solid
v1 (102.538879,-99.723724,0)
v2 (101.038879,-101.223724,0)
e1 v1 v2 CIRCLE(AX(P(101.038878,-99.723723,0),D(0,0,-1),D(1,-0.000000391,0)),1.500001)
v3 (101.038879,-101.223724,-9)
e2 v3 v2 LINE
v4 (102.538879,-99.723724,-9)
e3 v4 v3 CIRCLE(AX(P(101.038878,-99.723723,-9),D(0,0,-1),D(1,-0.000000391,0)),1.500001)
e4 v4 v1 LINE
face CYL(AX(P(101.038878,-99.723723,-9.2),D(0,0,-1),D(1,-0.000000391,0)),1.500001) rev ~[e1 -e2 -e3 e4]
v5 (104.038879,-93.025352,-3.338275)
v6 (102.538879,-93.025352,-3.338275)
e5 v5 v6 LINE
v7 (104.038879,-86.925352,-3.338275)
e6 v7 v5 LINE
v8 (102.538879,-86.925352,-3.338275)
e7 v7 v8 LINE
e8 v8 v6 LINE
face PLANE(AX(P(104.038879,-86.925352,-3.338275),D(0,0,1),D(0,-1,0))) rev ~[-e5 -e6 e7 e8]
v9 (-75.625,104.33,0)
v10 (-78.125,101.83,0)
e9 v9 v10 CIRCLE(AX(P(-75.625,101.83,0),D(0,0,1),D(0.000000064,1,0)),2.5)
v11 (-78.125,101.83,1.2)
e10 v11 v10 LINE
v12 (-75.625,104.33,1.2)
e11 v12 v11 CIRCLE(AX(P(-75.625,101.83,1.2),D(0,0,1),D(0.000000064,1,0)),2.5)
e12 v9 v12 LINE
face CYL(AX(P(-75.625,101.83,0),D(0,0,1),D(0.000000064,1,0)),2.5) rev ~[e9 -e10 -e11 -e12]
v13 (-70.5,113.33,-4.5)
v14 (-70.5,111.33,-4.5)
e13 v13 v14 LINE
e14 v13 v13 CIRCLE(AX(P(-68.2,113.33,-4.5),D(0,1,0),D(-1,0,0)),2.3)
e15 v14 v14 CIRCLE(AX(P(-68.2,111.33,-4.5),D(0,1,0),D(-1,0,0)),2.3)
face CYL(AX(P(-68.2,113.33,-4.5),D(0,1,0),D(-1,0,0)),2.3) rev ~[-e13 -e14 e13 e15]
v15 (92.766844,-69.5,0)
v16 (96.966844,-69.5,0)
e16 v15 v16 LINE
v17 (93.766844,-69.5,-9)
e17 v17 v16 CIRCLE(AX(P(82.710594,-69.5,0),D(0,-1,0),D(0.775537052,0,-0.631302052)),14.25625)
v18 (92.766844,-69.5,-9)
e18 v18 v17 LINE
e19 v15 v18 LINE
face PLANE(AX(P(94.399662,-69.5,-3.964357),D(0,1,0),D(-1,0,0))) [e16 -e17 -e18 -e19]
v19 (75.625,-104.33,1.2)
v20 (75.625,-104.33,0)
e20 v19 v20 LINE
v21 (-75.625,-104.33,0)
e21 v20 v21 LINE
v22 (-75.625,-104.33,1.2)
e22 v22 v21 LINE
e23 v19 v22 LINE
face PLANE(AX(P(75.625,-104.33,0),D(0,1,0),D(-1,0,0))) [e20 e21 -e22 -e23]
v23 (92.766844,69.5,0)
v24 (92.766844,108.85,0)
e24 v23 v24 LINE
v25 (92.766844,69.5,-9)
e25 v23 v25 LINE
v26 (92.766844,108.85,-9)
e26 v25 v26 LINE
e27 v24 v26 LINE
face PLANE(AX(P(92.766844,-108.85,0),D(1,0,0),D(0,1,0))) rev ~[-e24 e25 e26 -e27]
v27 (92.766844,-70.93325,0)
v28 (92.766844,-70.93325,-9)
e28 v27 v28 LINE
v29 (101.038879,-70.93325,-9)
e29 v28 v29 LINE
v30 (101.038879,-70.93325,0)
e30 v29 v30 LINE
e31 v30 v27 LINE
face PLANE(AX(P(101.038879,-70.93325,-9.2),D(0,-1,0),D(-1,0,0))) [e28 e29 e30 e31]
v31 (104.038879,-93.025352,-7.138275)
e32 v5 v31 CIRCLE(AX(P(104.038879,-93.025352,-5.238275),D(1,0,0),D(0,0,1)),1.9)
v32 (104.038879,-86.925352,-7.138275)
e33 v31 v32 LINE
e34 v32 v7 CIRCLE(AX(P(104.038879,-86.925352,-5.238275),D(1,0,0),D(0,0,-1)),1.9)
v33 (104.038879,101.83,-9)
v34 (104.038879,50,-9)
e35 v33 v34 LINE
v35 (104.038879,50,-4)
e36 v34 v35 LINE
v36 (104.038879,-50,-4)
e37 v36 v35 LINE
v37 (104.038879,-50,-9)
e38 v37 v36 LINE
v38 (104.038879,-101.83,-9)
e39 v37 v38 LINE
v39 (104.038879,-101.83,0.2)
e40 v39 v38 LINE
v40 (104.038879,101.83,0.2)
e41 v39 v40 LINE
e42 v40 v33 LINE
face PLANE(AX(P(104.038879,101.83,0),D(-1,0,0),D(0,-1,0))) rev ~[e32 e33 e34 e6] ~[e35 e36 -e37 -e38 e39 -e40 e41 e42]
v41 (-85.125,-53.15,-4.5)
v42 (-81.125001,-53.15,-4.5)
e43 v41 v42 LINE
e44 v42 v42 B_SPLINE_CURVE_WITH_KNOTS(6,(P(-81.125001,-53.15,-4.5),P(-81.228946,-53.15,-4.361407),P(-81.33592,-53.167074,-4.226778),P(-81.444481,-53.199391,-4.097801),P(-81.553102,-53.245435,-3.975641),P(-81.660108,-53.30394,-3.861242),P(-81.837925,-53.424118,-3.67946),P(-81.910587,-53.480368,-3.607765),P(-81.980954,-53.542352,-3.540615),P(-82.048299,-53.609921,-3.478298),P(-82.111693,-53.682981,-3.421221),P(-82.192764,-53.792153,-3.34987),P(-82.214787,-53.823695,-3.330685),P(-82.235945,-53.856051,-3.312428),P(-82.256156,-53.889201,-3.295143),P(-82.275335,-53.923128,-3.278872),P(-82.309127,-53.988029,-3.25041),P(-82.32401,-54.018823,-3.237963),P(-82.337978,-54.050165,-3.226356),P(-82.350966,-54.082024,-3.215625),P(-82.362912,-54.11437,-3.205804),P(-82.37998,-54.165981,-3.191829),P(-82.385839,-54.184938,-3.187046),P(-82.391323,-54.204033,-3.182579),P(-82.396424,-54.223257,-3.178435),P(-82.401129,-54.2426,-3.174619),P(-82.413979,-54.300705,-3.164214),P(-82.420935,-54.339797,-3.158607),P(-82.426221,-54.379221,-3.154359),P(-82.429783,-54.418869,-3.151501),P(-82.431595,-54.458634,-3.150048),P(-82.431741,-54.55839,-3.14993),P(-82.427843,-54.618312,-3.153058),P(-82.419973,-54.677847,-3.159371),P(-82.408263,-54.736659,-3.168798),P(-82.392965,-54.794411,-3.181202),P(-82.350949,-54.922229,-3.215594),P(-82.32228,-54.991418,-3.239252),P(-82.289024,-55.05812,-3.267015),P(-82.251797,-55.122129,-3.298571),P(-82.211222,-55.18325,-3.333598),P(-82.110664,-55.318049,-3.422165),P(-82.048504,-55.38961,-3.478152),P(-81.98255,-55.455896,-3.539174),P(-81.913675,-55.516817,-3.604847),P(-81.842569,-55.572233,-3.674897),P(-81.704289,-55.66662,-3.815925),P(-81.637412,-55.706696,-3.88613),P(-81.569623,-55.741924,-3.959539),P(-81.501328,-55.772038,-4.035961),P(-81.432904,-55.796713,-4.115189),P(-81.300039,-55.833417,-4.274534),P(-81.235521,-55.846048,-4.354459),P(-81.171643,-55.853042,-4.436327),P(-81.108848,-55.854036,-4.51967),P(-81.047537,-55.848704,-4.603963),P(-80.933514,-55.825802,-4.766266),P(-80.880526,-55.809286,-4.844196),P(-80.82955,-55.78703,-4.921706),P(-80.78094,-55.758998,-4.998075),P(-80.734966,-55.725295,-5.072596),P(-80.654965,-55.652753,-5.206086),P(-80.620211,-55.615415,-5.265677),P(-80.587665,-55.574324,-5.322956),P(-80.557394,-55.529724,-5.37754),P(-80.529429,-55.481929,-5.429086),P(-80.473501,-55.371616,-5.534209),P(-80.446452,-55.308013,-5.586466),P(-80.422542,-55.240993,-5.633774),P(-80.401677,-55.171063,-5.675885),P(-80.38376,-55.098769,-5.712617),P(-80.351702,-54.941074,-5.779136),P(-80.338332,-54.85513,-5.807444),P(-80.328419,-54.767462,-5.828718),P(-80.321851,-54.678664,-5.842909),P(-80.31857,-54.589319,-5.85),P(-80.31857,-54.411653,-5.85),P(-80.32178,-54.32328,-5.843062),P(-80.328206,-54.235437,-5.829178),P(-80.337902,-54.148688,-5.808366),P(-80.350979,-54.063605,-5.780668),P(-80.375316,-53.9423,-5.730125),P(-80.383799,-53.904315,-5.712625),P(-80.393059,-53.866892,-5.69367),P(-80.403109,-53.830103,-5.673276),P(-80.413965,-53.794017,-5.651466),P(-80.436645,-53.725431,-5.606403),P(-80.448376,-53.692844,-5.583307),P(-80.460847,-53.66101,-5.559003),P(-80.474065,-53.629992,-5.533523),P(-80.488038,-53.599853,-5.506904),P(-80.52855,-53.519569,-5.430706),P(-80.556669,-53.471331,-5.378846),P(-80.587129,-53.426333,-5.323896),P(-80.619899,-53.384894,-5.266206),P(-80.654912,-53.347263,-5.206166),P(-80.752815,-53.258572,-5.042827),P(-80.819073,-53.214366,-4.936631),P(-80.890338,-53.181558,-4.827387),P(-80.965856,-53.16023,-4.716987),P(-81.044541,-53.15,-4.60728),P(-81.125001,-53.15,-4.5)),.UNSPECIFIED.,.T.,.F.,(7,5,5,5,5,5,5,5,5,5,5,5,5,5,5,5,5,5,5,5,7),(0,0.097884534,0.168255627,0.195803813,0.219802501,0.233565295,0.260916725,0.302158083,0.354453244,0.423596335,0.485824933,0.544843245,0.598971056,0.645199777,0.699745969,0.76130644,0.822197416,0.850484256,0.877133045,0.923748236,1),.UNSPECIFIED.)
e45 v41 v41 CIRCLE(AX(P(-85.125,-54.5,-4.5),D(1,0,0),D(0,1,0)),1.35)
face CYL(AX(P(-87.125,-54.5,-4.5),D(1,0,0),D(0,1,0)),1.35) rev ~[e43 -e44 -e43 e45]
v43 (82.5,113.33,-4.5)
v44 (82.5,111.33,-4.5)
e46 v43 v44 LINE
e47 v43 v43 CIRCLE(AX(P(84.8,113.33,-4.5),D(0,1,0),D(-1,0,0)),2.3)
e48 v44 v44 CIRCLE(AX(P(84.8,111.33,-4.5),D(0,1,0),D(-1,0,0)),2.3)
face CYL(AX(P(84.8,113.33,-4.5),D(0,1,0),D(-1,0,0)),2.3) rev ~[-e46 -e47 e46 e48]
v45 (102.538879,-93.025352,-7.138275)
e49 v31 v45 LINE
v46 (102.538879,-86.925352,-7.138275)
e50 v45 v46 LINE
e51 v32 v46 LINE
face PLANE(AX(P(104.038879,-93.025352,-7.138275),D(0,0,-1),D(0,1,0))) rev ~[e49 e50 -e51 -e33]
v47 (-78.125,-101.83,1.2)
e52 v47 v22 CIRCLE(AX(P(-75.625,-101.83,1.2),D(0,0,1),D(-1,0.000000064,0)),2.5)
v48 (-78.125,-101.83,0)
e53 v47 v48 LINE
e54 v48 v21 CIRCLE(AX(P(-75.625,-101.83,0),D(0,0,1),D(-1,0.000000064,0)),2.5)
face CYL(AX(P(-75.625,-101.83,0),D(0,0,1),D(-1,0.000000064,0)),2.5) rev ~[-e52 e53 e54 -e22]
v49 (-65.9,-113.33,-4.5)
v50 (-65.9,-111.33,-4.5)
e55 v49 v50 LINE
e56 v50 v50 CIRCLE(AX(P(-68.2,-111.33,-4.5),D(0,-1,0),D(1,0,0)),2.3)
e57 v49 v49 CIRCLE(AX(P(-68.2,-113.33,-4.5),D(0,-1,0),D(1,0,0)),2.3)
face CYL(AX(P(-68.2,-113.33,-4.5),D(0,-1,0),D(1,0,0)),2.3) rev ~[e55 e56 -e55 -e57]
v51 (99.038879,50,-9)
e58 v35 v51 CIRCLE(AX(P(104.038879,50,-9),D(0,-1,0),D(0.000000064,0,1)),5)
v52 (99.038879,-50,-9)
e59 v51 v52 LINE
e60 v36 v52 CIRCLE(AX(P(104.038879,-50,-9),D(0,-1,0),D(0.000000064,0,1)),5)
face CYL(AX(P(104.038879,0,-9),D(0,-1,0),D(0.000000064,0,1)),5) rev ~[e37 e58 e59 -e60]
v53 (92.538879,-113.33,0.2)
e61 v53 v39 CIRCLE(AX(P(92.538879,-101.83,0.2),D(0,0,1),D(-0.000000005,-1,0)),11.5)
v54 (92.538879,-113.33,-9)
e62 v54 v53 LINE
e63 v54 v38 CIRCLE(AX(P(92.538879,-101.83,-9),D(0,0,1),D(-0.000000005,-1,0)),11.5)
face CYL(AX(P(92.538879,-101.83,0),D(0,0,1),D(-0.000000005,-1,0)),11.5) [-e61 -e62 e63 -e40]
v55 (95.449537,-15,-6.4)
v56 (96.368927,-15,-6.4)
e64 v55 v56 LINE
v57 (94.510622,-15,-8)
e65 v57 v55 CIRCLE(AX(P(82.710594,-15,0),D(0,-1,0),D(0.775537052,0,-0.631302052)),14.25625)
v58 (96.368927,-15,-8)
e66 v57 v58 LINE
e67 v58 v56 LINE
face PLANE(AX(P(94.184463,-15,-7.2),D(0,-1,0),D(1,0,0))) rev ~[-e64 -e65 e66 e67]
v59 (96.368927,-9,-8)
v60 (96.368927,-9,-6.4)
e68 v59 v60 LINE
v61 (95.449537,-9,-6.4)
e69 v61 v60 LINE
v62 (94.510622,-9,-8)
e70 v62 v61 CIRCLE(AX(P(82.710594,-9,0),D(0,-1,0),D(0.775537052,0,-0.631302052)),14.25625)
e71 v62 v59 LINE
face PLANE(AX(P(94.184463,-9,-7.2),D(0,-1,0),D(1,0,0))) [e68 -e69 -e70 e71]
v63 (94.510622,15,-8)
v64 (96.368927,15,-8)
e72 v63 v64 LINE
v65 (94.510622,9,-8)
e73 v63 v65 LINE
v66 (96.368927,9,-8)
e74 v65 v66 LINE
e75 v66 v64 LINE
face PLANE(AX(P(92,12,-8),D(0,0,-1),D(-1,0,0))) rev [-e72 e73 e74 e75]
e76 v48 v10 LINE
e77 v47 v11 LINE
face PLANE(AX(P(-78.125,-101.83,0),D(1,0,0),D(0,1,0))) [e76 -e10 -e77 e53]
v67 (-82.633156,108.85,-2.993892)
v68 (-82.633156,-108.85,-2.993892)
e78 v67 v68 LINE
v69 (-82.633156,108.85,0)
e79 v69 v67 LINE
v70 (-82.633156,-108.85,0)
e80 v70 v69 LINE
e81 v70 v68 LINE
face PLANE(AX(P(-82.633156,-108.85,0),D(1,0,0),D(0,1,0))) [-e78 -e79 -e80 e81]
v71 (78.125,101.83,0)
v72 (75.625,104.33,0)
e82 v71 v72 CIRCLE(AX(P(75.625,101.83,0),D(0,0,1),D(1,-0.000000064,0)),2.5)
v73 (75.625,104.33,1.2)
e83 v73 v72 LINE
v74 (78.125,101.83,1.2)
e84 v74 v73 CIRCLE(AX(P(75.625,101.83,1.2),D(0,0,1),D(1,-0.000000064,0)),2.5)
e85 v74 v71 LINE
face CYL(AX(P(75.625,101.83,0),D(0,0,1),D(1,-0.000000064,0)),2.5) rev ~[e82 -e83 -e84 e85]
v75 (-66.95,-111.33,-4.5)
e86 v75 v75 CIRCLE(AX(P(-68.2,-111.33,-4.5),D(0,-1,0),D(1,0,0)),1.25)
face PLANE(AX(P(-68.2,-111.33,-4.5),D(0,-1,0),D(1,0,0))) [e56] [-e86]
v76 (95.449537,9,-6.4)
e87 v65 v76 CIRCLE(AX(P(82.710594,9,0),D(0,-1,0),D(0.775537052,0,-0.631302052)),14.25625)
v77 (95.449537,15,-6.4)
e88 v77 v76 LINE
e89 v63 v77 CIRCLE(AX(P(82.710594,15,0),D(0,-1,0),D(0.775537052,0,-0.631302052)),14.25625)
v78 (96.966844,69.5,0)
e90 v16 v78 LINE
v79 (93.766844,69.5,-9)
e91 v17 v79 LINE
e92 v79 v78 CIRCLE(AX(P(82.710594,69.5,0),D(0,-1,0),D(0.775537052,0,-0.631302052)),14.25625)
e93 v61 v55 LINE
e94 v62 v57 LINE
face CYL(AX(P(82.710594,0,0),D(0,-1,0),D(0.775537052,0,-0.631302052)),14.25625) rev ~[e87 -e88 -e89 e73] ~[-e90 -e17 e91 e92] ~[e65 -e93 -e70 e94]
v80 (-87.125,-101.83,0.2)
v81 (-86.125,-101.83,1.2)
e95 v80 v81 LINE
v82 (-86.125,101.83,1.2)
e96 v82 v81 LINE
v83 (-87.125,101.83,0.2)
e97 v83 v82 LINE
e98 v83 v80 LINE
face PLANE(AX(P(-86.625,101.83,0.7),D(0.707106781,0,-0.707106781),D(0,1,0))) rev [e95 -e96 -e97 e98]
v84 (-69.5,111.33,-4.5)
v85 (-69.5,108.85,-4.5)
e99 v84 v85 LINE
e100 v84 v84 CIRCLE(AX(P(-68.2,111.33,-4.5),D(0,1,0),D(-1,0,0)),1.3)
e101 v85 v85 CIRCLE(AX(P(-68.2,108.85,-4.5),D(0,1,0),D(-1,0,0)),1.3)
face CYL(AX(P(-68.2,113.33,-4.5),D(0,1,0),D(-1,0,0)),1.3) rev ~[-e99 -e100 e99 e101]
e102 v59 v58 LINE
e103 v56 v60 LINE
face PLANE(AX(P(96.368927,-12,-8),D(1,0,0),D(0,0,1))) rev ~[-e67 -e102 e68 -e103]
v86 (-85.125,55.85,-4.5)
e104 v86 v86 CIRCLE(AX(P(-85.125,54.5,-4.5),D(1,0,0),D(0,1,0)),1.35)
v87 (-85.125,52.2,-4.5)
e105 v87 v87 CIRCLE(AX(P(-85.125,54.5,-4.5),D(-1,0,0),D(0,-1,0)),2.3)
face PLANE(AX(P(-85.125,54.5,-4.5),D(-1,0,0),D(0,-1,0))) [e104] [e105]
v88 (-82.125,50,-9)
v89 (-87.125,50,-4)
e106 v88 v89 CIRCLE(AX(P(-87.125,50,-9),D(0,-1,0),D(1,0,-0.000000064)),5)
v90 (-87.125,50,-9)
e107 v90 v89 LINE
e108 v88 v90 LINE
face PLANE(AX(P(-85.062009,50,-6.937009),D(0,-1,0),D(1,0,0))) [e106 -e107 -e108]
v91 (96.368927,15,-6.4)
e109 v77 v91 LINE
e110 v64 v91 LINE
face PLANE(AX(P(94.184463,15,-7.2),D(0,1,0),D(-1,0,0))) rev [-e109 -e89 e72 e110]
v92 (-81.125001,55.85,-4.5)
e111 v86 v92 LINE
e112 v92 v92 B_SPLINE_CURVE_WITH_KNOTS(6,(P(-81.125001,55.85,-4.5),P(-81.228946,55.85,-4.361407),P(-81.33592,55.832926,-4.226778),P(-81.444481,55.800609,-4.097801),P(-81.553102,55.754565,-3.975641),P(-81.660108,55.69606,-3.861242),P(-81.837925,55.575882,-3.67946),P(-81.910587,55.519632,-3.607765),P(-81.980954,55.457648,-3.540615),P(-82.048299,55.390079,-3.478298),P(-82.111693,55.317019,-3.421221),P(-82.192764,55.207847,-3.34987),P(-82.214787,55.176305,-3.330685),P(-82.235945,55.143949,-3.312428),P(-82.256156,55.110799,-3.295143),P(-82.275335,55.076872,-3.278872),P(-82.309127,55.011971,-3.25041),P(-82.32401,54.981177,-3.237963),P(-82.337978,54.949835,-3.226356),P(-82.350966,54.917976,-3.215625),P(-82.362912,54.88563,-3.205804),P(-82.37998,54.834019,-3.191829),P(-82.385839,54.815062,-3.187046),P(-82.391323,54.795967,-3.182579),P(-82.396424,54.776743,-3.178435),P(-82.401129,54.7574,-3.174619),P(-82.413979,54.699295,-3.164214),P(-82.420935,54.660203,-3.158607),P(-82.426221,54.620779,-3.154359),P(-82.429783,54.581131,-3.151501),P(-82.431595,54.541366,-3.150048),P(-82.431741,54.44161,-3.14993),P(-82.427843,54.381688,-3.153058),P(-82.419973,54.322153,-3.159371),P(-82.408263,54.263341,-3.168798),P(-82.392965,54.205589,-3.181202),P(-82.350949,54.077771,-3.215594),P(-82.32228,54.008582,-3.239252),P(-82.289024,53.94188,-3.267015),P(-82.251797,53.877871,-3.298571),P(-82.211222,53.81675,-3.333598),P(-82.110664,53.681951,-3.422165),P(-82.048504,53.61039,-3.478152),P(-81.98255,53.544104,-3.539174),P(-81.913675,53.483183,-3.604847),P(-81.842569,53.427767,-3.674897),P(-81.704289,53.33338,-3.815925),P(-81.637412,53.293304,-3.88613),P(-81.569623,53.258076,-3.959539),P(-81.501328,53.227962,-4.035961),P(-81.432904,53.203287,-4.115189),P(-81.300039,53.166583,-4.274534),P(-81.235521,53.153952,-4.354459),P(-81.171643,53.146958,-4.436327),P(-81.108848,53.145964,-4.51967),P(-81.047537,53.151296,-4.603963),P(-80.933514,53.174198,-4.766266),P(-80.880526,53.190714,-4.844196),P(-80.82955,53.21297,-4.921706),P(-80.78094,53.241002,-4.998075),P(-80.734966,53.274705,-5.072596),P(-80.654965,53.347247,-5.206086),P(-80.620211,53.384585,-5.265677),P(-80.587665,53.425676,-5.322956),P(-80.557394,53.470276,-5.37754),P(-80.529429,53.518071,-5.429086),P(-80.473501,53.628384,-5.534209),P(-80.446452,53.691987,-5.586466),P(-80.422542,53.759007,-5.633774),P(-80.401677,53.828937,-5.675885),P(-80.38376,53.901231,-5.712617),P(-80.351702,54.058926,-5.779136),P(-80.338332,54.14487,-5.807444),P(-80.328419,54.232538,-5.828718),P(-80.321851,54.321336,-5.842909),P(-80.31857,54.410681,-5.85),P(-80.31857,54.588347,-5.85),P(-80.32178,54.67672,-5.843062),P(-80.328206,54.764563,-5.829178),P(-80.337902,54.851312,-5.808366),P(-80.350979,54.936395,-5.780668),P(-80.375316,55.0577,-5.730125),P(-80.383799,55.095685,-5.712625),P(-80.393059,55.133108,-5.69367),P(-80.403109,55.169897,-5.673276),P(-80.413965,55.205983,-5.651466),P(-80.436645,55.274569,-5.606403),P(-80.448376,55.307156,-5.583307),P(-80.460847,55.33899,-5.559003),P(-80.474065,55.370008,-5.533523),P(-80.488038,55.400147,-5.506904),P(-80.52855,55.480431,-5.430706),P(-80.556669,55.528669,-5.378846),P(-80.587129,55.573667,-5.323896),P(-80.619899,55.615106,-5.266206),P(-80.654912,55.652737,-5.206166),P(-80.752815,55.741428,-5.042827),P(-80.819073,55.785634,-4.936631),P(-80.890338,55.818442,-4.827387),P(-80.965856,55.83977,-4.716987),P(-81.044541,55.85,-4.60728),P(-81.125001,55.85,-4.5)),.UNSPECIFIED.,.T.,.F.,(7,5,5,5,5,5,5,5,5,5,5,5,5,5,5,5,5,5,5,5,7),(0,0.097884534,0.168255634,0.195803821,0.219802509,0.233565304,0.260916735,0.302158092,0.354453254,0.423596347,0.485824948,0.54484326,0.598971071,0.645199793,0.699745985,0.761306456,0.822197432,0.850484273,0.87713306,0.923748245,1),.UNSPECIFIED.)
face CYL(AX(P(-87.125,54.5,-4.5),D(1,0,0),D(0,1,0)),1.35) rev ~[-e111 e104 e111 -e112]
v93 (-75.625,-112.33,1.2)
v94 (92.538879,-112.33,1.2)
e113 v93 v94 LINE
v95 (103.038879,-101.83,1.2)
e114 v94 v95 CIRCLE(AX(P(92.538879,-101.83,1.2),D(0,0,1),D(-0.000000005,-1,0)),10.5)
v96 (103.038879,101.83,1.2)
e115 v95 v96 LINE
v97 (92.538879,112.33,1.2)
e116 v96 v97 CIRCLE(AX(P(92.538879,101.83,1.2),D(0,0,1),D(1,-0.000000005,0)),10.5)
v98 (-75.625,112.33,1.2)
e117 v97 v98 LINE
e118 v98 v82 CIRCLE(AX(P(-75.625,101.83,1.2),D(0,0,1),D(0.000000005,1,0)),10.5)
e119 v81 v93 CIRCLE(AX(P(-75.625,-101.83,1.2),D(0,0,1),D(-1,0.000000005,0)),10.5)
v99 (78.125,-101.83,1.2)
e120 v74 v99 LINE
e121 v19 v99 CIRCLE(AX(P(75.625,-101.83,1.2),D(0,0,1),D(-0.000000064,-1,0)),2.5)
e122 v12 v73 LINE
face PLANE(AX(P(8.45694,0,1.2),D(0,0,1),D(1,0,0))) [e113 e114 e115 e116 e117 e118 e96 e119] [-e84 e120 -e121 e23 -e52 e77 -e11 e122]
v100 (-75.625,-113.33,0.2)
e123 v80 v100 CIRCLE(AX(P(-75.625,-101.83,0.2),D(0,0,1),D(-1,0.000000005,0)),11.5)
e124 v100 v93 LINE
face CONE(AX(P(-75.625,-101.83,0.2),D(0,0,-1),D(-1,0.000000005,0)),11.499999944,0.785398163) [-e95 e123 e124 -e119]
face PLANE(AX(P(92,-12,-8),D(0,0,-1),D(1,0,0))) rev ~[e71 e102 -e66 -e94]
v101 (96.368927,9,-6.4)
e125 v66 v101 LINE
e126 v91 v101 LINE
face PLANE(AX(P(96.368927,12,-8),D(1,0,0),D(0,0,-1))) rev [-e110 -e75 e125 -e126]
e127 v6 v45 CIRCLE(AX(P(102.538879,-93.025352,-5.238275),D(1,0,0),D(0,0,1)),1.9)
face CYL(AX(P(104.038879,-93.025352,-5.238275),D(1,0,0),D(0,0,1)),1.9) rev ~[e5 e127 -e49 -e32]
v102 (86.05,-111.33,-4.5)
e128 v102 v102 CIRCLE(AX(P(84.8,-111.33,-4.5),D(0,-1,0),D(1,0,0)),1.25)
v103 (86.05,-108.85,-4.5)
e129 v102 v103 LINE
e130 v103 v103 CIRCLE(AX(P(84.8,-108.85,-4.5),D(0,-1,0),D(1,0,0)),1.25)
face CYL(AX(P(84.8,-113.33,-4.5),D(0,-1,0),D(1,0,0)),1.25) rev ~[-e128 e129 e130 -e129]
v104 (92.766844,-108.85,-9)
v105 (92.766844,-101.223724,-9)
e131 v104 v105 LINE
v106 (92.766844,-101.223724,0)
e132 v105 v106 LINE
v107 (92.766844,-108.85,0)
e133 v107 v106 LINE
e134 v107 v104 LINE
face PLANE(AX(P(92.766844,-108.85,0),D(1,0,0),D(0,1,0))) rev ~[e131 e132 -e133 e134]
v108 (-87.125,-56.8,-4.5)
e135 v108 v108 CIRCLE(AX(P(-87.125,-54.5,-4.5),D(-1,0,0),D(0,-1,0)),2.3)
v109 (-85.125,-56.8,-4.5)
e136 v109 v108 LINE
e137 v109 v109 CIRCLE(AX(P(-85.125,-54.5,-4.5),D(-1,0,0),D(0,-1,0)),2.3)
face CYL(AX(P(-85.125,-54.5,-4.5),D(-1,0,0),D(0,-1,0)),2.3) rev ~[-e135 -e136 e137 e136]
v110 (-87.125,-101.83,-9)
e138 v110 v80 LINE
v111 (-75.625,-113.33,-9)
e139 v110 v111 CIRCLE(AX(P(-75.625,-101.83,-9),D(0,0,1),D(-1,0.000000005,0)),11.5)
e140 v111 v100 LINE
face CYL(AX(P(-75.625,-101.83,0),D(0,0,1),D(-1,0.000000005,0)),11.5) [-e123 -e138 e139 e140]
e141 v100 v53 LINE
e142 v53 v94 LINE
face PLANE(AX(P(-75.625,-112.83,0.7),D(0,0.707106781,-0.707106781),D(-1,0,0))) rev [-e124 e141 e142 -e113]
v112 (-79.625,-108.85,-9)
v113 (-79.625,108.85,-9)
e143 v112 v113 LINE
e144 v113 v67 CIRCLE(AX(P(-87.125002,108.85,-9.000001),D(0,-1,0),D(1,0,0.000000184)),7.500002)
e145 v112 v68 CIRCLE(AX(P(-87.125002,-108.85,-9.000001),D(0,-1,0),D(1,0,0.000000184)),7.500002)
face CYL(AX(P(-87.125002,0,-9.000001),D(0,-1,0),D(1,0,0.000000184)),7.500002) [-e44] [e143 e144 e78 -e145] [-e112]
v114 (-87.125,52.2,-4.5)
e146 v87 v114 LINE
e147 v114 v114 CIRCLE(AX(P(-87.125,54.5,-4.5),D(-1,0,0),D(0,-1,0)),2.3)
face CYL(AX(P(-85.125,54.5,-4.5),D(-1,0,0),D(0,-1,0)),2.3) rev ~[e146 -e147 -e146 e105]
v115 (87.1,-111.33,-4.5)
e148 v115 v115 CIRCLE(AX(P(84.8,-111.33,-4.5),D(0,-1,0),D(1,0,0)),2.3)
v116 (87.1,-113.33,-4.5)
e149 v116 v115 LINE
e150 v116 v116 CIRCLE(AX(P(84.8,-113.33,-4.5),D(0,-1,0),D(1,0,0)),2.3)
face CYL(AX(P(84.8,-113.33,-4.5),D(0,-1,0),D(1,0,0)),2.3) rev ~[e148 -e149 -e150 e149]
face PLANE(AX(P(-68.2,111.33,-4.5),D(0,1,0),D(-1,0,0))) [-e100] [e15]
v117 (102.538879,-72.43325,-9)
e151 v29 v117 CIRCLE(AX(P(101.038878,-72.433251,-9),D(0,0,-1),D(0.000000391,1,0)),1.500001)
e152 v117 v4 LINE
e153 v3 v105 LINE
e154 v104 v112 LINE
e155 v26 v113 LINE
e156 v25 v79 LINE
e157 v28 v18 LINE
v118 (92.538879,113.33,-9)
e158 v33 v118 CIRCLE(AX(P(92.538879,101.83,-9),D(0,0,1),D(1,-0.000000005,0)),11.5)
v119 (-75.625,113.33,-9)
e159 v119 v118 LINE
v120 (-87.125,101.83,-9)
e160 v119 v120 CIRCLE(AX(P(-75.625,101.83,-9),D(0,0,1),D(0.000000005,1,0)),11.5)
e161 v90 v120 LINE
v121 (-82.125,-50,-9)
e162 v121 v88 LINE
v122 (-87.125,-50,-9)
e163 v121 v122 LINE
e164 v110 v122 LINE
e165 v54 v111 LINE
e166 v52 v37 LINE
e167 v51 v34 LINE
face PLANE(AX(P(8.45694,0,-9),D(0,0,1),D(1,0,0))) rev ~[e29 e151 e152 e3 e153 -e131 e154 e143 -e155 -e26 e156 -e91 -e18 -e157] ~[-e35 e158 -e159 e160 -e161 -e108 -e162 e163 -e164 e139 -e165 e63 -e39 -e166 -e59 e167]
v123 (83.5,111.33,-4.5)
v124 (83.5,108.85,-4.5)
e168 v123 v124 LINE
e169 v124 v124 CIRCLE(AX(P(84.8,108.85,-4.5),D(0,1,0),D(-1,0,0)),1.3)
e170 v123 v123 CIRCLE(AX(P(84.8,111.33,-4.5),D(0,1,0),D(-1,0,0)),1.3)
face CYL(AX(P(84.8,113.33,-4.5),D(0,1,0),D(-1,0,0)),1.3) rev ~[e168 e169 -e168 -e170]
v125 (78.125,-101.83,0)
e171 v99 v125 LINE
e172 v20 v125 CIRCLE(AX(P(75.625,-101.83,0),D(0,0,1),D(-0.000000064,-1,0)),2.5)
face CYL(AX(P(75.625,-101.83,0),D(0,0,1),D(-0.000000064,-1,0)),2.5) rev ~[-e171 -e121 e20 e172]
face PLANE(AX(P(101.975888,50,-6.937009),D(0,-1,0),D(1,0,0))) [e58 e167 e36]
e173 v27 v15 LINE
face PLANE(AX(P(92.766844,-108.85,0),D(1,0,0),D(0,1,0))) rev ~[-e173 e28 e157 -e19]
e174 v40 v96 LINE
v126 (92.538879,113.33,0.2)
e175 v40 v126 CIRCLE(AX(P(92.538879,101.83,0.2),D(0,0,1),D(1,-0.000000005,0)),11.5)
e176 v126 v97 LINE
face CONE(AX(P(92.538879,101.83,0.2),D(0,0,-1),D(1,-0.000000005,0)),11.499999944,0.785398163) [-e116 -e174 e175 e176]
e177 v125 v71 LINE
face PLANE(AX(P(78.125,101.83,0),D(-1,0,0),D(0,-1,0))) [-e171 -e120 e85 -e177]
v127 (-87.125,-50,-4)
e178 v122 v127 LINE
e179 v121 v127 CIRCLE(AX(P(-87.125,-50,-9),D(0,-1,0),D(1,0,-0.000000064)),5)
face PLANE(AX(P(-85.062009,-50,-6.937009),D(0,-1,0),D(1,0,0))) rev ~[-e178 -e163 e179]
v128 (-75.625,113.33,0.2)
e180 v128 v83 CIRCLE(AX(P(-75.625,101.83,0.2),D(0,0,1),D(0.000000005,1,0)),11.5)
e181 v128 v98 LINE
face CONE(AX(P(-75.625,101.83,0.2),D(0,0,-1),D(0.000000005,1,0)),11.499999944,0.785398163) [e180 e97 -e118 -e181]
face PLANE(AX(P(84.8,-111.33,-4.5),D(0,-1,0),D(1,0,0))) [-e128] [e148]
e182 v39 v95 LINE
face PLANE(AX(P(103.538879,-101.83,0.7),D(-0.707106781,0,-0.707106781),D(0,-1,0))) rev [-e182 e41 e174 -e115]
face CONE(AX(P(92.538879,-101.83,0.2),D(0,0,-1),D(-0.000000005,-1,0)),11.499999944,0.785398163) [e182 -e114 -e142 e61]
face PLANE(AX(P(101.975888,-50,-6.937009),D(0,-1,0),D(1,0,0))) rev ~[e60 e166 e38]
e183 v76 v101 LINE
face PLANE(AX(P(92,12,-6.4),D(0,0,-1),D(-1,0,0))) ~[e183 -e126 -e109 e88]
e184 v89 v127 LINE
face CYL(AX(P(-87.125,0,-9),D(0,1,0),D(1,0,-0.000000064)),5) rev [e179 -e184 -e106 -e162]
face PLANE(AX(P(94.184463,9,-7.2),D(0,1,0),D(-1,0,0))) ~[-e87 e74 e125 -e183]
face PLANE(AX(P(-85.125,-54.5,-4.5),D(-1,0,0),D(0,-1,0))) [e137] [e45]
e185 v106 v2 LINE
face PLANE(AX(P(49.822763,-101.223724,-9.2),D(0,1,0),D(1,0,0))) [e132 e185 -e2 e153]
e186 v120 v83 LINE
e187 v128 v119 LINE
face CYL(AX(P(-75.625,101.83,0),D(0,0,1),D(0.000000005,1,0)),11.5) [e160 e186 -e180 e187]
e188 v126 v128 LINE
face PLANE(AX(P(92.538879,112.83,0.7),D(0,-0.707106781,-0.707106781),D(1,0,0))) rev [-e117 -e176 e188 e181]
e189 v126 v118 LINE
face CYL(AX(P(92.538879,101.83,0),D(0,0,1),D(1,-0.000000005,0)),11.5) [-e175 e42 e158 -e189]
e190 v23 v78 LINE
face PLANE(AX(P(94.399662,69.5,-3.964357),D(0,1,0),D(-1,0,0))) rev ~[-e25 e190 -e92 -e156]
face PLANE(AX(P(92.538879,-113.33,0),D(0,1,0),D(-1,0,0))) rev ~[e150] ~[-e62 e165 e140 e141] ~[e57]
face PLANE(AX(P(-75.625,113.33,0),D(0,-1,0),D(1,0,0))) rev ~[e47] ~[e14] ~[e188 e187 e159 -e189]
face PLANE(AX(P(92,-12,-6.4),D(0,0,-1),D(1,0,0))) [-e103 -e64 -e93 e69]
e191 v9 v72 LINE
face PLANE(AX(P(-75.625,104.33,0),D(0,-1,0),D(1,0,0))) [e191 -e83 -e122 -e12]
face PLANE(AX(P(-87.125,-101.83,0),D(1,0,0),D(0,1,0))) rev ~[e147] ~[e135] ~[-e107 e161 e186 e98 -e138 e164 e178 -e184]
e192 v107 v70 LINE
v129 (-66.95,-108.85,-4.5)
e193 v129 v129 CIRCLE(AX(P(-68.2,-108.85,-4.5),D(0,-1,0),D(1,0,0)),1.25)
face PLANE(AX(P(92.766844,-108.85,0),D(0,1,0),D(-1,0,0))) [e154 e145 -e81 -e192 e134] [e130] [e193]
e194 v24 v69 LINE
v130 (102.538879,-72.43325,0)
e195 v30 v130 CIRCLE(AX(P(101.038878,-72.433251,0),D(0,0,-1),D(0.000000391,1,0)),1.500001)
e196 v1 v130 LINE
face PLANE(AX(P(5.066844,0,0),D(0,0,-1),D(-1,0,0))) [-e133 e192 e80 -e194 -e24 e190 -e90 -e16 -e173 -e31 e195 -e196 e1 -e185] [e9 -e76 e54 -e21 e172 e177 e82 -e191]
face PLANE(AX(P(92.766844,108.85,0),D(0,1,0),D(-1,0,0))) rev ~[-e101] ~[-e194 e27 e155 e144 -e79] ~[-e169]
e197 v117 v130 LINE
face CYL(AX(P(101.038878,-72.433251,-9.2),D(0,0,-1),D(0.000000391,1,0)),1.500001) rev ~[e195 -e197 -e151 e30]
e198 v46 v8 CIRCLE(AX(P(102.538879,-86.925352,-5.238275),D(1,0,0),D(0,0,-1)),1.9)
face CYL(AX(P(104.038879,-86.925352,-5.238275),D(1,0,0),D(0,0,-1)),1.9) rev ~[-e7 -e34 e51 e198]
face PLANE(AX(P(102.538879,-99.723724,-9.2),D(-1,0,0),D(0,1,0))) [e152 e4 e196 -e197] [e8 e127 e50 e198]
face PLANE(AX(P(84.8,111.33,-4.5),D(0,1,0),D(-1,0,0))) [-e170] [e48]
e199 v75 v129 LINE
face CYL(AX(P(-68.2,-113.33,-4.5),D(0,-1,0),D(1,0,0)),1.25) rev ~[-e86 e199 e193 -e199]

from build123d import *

# Parameters (mm, degrees)
PAD004_DEPTH      = 1.2
PAD004_DEPTH_BACK = 9
SKETCH007_W       = 175.4
SKETCH007_H       = 217.7
POCKET001_DEPTH   = 19
PAD005_DEPTH      = 110
POCKET002_DEPTH   = 50
POCKET003_DEPTH   = 69.5
POCKET004_DEPTH   = 17
POCKET005_DEPTH   = 9.2
SKETCH034_R       = 2.3
POCKET023_DEPTH   = 2
SKETCH035_R       = 1.25
POCKET024_DEPTH   = 16
SKETCH037_R       = 2.3
POCKET026_DEPTH   = 2
SKETCH038_R       = 1.3
POCKET027_DEPTH   = 20
CHAMFER002_SIZE   = 1
HOLE_D            = 2.7
HOLE_DEPTH        = 25
HOLE_CBORE_D      = 4.6
HOLE_CBORE_DEPTH  = 2
HOLE_TIPS_R       = 1.35
SKETCH058_W       = 4.368927
SKETCH058_H       = 1.6
POCKET037_DEPTH   = 3


with BuildPart() as part:
    # Sketch006 → Pad004 (new body, two sides)
    with BuildSketch(Plane.XY) as pad004_sk:
        with BuildLine():
            ThreePointArc((-75.625, 113.33), (-83.756728, 109.961728), (-87.125, 101.83))
            Line((-87.125, -101.83), (-87.125, 101.83))
            ThreePointArc((-87.125, -101.83), (-83.756728, -109.961728), (-75.625, -113.33))
            Line((92.538879, -113.33), (-75.625, -113.33))
            ThreePointArc((92.538879, -113.33), (100.670607, -109.961728), (104.038879, -101.83))
            Line((104.038879, 101.83), (104.038879, -101.83))
            ThreePointArc((104.038879, 101.83), (100.670607, 109.961728), (92.538879, 113.33))
            Line((-75.625, 113.33), (92.538879, 113.33))
        make_face()
        with BuildLine():
            ThreePointArc((-75.625, 104.33), (-77.392767, 103.597767), (-78.125, 101.83))
            Line((-78.125, -101.83), (-78.125, 101.83))
            ThreePointArc((-78.125, -101.83), (-77.392767, -103.597767), (-75.625, -104.33))
            Line((75.625, -104.33), (-75.625, -104.33))
            ThreePointArc((75.625, -104.33), (77.392767, -103.597767), (78.125, -101.83))
            Line((78.125, 101.83), (78.125, -101.83))
            ThreePointArc((78.125, 101.83), (77.392767, 103.597767), (75.625, 104.33))
            Line((-75.625, 104.33), (75.625, 104.33))
        make_face(mode=Mode.SUBTRACT)
    extrude(amount=PAD004_DEPTH)
    extrude(pad004_sk.sketch, amount=-PAD004_DEPTH_BACK)

    # Sketch007 → Pocket001 (cut)
    with BuildSketch(Plane(origin=(0, 0, 0), x_dir=(-1, 0, 0), z_dir=(0, 0, -1))):
        with Locations((-5.066844, 0)):
            Rectangle(SKETCH007_W, SKETCH007_H)
    extrude(amount=POCKET001_DEPTH, mode=Mode.SUBTRACT)

    # Sketch008 → Pad005 (join, symmetric)
    with BuildSketch(Plane.XZ):
        with BuildLine():
            ThreePointArc((-79.625, -9), (-80.634367, -5.242118), (-83.390781, -2.495724))
            Line((-83.390781, -2.495724), (-83.390781, -9))
            Line((-79.625, -9), (-83.390781, -9))
        make_face()
    extrude(amount=PAD005_DEPTH, both=True)

    # Sketch009 → Pocket002 (cut, symmetric)
    with BuildSketch(Plane.XZ):
        with BuildLine():
            ThreePointArc((-82.125, -9), (-83.589466, -5.464466), (-87.125, -4))
            Line((-87.125, -9), (-87.125, -4))
            Line((-82.125, -9), (-87.125, -9))
        make_face()
        with BuildLine():
            ThreePointArc((104.038879, -4), (100.503345, -5.464466), (99.038879, -9))
            Line((99.038879, -9), (104.038879, -9))
            Line((104.038879, -9), (104.038879, -4))
        make_face()
    extrude(amount=POCKET002_DEPTH, both=True, mode=Mode.SUBTRACT)

    # Sketch010 → Pocket003 (cut, symmetric)
    with BuildSketch(Plane.XZ):
        with BuildLine():
            Line((92.766844, 0), (96.966844, 0))
            ThreePointArc((93.766844, -9), (96.143042, -4.775982), (96.966844, 0))
            Line((92.766844, -9), (93.766844, -9))
            Line((92.766844, -8), (92.766844, -9))
            Line((92.766844, -8), (92.766844, 0))
        make_face()
    extrude(amount=POCKET003_DEPTH, both=True, mode=Mode.SUBTRACT)

    # Sketch011 (on DatumPlane) → Pocket004 (cut)
    with BuildSketch(Plane.YZ.offset(104.038879)):
        with BuildLine():
            ThreePointArc((-93.025352, -3.338275), (-94.925352, -5.238275), (-93.025352, -7.138275))
            Line((-93.025352, -7.138275), (-86.925352, -7.138275))
            ThreePointArc((-86.925352, -7.138275), (-85.025352, -5.238275), (-86.925352, -3.338275))
            Line((-86.925352, -3.338275), (-93.025352, -3.338275))
        make_face()
    extrude(amount=-POCKET004_DEPTH, mode=Mode.SUBTRACT)

    # Sketch012 (on DatumPlane) → Pocket005 (cut)
    with BuildSketch(Plane(origin=(0, 0, -9.2), x_dir=(1, 0, 0), z_dir=(0, 0, -1))):
        with BuildLine():
            ThreePointArc((102.538879, 99.723724), (102.099539, 100.784384), (101.038879, 101.223724))
            Line((49.822763, 101.223724), (101.038879, 101.223724))
            ThreePointArc((49.822763, 101.223724), (48.762103, 100.784384), (48.322763, 99.723724))
            Line((48.322763, 72.43325), (48.322763, 99.723724))
            ThreePointArc((48.322763, 72.43325), (48.762103, 71.37259), (49.822763, 70.93325))
            Line((101.038879, 70.93325), (49.822763, 70.93325))
            ThreePointArc((101.038879, 70.93325), (102.099539, 71.37259), (102.538879, 72.43325))
            Line((102.538879, 99.723724), (102.538879, 72.43325))
        make_face()
    extrude(amount=-POCKET005_DEPTH, mode=Mode.SUBTRACT)

    # Sketch034 (on DatumPlane) → Pocket023 (cut)
    with BuildSketch(Plane.XZ.offset(113.33)):
        with Locations((-68.2, -4.5)):
            Circle(SKETCH034_R)
        with Locations((84.8, -4.5)):
            Circle(SKETCH034_R)
    extrude(amount=-POCKET023_DEPTH, mode=Mode.SUBTRACT)

    # Sketch035 (on DatumPlane) → Pocket024 (cut)
    with BuildSketch(Plane.XZ.offset(113.33)):
        with Locations((84.8, -4.5)):
            Circle(SKETCH035_R)
        with Locations((-68.2, -4.5)):
            Circle(SKETCH035_R)
    extrude(amount=-POCKET024_DEPTH, mode=Mode.SUBTRACT)

    # Sketch037 (on DatumPlane) → Pocket026 (cut)
    with BuildSketch(Plane(origin=(0, 113.33, 0), x_dir=(-1, 0, 0), z_dir=(0, 1, 0))):
        with Locations((-84.8, -4.5)):
            Circle(SKETCH037_R)
        with Locations((68.2, -4.5)):
            Circle(SKETCH037_R)
    extrude(amount=-POCKET026_DEPTH, mode=Mode.SUBTRACT)

    # Sketch038 (on DatumPlane) → Pocket027 (cut)
    with BuildSketch(Plane(origin=(0, 113.33, 0), x_dir=(-1, 0, 0), z_dir=(0, 1, 0))):
        with Locations((-84.8, -4.5)):
            Circle(SKETCH038_R)
        with Locations((68.2, -4.5)):
            Circle(SKETCH038_R)
    extrude(amount=-POCKET027_DEPTH, mode=Mode.SUBTRACT)

    # Chamfer002
    chamfer002_edges = [part.edges().sort_by_distance(p)[0] for p in [
        (100.670607, 109.961728, 1.2),
    ]]
    chamfer(chamfer002_edges, length=CHAMFER002_SIZE)

    # Hole
    with Locations(Plane(origin=(-87.125, 0, 0), x_dir=(0, -1, 0), z_dir=(-1, 0, 0))):
        with Locations((-54.5, -4.5), (54.5, -4.5)):
            CounterBoreHole(HOLE_D / 2, HOLE_CBORE_D / 2, HOLE_CBORE_DEPTH, depth=HOLE_DEPTH)

    # Hole tips → Hole tip 1 section 0
    with BuildSketch(Plane(origin=(-62.125, 0, 0), x_dir=(0, -1, 0), z_dir=(-1, 0, 0)), mode=Mode.PRIVATE) as hole_tip_1_s0:
        with Locations((-54.5, -4.5)):
            Circle(HOLE_TIPS_R)
    loft([hole_tip_1_s0.sketch, Vertex(-61.313838, 54.5, -4.5)], mode=Mode.SUBTRACT)

    # Hole tips → Hole tip 2 section 0
    with BuildSketch(Plane(origin=(-62.125, 0, 0), x_dir=(0, -1, 0), z_dir=(-1, 0, 0)), mode=Mode.PRIVATE) as hole_tip_2_s0:
        with Locations((54.5, -4.5)):
            Circle(HOLE_TIPS_R)
    loft([hole_tip_2_s0.sketch, Vertex(-61.313838, -54.5, -4.5)], mode=Mode.SUBTRACT)

    # Sketch058 → Pocket037 (cut, symmetric)
    with BuildSketch(Plane.XZ.offset(12)):
        with Locations((94.184463, -7.2)):
            Rectangle(SKETCH058_W, SKETCH058_H)
    pocket037 = extrude(amount=POCKET037_DEPTH, both=True, mode=Mode.SUBTRACT)

    # Mirrored: Pocket037 across XZ
    add(pocket037.mirror(Plane.XZ), mode=Mode.SUBTRACT)


solid = part.part
